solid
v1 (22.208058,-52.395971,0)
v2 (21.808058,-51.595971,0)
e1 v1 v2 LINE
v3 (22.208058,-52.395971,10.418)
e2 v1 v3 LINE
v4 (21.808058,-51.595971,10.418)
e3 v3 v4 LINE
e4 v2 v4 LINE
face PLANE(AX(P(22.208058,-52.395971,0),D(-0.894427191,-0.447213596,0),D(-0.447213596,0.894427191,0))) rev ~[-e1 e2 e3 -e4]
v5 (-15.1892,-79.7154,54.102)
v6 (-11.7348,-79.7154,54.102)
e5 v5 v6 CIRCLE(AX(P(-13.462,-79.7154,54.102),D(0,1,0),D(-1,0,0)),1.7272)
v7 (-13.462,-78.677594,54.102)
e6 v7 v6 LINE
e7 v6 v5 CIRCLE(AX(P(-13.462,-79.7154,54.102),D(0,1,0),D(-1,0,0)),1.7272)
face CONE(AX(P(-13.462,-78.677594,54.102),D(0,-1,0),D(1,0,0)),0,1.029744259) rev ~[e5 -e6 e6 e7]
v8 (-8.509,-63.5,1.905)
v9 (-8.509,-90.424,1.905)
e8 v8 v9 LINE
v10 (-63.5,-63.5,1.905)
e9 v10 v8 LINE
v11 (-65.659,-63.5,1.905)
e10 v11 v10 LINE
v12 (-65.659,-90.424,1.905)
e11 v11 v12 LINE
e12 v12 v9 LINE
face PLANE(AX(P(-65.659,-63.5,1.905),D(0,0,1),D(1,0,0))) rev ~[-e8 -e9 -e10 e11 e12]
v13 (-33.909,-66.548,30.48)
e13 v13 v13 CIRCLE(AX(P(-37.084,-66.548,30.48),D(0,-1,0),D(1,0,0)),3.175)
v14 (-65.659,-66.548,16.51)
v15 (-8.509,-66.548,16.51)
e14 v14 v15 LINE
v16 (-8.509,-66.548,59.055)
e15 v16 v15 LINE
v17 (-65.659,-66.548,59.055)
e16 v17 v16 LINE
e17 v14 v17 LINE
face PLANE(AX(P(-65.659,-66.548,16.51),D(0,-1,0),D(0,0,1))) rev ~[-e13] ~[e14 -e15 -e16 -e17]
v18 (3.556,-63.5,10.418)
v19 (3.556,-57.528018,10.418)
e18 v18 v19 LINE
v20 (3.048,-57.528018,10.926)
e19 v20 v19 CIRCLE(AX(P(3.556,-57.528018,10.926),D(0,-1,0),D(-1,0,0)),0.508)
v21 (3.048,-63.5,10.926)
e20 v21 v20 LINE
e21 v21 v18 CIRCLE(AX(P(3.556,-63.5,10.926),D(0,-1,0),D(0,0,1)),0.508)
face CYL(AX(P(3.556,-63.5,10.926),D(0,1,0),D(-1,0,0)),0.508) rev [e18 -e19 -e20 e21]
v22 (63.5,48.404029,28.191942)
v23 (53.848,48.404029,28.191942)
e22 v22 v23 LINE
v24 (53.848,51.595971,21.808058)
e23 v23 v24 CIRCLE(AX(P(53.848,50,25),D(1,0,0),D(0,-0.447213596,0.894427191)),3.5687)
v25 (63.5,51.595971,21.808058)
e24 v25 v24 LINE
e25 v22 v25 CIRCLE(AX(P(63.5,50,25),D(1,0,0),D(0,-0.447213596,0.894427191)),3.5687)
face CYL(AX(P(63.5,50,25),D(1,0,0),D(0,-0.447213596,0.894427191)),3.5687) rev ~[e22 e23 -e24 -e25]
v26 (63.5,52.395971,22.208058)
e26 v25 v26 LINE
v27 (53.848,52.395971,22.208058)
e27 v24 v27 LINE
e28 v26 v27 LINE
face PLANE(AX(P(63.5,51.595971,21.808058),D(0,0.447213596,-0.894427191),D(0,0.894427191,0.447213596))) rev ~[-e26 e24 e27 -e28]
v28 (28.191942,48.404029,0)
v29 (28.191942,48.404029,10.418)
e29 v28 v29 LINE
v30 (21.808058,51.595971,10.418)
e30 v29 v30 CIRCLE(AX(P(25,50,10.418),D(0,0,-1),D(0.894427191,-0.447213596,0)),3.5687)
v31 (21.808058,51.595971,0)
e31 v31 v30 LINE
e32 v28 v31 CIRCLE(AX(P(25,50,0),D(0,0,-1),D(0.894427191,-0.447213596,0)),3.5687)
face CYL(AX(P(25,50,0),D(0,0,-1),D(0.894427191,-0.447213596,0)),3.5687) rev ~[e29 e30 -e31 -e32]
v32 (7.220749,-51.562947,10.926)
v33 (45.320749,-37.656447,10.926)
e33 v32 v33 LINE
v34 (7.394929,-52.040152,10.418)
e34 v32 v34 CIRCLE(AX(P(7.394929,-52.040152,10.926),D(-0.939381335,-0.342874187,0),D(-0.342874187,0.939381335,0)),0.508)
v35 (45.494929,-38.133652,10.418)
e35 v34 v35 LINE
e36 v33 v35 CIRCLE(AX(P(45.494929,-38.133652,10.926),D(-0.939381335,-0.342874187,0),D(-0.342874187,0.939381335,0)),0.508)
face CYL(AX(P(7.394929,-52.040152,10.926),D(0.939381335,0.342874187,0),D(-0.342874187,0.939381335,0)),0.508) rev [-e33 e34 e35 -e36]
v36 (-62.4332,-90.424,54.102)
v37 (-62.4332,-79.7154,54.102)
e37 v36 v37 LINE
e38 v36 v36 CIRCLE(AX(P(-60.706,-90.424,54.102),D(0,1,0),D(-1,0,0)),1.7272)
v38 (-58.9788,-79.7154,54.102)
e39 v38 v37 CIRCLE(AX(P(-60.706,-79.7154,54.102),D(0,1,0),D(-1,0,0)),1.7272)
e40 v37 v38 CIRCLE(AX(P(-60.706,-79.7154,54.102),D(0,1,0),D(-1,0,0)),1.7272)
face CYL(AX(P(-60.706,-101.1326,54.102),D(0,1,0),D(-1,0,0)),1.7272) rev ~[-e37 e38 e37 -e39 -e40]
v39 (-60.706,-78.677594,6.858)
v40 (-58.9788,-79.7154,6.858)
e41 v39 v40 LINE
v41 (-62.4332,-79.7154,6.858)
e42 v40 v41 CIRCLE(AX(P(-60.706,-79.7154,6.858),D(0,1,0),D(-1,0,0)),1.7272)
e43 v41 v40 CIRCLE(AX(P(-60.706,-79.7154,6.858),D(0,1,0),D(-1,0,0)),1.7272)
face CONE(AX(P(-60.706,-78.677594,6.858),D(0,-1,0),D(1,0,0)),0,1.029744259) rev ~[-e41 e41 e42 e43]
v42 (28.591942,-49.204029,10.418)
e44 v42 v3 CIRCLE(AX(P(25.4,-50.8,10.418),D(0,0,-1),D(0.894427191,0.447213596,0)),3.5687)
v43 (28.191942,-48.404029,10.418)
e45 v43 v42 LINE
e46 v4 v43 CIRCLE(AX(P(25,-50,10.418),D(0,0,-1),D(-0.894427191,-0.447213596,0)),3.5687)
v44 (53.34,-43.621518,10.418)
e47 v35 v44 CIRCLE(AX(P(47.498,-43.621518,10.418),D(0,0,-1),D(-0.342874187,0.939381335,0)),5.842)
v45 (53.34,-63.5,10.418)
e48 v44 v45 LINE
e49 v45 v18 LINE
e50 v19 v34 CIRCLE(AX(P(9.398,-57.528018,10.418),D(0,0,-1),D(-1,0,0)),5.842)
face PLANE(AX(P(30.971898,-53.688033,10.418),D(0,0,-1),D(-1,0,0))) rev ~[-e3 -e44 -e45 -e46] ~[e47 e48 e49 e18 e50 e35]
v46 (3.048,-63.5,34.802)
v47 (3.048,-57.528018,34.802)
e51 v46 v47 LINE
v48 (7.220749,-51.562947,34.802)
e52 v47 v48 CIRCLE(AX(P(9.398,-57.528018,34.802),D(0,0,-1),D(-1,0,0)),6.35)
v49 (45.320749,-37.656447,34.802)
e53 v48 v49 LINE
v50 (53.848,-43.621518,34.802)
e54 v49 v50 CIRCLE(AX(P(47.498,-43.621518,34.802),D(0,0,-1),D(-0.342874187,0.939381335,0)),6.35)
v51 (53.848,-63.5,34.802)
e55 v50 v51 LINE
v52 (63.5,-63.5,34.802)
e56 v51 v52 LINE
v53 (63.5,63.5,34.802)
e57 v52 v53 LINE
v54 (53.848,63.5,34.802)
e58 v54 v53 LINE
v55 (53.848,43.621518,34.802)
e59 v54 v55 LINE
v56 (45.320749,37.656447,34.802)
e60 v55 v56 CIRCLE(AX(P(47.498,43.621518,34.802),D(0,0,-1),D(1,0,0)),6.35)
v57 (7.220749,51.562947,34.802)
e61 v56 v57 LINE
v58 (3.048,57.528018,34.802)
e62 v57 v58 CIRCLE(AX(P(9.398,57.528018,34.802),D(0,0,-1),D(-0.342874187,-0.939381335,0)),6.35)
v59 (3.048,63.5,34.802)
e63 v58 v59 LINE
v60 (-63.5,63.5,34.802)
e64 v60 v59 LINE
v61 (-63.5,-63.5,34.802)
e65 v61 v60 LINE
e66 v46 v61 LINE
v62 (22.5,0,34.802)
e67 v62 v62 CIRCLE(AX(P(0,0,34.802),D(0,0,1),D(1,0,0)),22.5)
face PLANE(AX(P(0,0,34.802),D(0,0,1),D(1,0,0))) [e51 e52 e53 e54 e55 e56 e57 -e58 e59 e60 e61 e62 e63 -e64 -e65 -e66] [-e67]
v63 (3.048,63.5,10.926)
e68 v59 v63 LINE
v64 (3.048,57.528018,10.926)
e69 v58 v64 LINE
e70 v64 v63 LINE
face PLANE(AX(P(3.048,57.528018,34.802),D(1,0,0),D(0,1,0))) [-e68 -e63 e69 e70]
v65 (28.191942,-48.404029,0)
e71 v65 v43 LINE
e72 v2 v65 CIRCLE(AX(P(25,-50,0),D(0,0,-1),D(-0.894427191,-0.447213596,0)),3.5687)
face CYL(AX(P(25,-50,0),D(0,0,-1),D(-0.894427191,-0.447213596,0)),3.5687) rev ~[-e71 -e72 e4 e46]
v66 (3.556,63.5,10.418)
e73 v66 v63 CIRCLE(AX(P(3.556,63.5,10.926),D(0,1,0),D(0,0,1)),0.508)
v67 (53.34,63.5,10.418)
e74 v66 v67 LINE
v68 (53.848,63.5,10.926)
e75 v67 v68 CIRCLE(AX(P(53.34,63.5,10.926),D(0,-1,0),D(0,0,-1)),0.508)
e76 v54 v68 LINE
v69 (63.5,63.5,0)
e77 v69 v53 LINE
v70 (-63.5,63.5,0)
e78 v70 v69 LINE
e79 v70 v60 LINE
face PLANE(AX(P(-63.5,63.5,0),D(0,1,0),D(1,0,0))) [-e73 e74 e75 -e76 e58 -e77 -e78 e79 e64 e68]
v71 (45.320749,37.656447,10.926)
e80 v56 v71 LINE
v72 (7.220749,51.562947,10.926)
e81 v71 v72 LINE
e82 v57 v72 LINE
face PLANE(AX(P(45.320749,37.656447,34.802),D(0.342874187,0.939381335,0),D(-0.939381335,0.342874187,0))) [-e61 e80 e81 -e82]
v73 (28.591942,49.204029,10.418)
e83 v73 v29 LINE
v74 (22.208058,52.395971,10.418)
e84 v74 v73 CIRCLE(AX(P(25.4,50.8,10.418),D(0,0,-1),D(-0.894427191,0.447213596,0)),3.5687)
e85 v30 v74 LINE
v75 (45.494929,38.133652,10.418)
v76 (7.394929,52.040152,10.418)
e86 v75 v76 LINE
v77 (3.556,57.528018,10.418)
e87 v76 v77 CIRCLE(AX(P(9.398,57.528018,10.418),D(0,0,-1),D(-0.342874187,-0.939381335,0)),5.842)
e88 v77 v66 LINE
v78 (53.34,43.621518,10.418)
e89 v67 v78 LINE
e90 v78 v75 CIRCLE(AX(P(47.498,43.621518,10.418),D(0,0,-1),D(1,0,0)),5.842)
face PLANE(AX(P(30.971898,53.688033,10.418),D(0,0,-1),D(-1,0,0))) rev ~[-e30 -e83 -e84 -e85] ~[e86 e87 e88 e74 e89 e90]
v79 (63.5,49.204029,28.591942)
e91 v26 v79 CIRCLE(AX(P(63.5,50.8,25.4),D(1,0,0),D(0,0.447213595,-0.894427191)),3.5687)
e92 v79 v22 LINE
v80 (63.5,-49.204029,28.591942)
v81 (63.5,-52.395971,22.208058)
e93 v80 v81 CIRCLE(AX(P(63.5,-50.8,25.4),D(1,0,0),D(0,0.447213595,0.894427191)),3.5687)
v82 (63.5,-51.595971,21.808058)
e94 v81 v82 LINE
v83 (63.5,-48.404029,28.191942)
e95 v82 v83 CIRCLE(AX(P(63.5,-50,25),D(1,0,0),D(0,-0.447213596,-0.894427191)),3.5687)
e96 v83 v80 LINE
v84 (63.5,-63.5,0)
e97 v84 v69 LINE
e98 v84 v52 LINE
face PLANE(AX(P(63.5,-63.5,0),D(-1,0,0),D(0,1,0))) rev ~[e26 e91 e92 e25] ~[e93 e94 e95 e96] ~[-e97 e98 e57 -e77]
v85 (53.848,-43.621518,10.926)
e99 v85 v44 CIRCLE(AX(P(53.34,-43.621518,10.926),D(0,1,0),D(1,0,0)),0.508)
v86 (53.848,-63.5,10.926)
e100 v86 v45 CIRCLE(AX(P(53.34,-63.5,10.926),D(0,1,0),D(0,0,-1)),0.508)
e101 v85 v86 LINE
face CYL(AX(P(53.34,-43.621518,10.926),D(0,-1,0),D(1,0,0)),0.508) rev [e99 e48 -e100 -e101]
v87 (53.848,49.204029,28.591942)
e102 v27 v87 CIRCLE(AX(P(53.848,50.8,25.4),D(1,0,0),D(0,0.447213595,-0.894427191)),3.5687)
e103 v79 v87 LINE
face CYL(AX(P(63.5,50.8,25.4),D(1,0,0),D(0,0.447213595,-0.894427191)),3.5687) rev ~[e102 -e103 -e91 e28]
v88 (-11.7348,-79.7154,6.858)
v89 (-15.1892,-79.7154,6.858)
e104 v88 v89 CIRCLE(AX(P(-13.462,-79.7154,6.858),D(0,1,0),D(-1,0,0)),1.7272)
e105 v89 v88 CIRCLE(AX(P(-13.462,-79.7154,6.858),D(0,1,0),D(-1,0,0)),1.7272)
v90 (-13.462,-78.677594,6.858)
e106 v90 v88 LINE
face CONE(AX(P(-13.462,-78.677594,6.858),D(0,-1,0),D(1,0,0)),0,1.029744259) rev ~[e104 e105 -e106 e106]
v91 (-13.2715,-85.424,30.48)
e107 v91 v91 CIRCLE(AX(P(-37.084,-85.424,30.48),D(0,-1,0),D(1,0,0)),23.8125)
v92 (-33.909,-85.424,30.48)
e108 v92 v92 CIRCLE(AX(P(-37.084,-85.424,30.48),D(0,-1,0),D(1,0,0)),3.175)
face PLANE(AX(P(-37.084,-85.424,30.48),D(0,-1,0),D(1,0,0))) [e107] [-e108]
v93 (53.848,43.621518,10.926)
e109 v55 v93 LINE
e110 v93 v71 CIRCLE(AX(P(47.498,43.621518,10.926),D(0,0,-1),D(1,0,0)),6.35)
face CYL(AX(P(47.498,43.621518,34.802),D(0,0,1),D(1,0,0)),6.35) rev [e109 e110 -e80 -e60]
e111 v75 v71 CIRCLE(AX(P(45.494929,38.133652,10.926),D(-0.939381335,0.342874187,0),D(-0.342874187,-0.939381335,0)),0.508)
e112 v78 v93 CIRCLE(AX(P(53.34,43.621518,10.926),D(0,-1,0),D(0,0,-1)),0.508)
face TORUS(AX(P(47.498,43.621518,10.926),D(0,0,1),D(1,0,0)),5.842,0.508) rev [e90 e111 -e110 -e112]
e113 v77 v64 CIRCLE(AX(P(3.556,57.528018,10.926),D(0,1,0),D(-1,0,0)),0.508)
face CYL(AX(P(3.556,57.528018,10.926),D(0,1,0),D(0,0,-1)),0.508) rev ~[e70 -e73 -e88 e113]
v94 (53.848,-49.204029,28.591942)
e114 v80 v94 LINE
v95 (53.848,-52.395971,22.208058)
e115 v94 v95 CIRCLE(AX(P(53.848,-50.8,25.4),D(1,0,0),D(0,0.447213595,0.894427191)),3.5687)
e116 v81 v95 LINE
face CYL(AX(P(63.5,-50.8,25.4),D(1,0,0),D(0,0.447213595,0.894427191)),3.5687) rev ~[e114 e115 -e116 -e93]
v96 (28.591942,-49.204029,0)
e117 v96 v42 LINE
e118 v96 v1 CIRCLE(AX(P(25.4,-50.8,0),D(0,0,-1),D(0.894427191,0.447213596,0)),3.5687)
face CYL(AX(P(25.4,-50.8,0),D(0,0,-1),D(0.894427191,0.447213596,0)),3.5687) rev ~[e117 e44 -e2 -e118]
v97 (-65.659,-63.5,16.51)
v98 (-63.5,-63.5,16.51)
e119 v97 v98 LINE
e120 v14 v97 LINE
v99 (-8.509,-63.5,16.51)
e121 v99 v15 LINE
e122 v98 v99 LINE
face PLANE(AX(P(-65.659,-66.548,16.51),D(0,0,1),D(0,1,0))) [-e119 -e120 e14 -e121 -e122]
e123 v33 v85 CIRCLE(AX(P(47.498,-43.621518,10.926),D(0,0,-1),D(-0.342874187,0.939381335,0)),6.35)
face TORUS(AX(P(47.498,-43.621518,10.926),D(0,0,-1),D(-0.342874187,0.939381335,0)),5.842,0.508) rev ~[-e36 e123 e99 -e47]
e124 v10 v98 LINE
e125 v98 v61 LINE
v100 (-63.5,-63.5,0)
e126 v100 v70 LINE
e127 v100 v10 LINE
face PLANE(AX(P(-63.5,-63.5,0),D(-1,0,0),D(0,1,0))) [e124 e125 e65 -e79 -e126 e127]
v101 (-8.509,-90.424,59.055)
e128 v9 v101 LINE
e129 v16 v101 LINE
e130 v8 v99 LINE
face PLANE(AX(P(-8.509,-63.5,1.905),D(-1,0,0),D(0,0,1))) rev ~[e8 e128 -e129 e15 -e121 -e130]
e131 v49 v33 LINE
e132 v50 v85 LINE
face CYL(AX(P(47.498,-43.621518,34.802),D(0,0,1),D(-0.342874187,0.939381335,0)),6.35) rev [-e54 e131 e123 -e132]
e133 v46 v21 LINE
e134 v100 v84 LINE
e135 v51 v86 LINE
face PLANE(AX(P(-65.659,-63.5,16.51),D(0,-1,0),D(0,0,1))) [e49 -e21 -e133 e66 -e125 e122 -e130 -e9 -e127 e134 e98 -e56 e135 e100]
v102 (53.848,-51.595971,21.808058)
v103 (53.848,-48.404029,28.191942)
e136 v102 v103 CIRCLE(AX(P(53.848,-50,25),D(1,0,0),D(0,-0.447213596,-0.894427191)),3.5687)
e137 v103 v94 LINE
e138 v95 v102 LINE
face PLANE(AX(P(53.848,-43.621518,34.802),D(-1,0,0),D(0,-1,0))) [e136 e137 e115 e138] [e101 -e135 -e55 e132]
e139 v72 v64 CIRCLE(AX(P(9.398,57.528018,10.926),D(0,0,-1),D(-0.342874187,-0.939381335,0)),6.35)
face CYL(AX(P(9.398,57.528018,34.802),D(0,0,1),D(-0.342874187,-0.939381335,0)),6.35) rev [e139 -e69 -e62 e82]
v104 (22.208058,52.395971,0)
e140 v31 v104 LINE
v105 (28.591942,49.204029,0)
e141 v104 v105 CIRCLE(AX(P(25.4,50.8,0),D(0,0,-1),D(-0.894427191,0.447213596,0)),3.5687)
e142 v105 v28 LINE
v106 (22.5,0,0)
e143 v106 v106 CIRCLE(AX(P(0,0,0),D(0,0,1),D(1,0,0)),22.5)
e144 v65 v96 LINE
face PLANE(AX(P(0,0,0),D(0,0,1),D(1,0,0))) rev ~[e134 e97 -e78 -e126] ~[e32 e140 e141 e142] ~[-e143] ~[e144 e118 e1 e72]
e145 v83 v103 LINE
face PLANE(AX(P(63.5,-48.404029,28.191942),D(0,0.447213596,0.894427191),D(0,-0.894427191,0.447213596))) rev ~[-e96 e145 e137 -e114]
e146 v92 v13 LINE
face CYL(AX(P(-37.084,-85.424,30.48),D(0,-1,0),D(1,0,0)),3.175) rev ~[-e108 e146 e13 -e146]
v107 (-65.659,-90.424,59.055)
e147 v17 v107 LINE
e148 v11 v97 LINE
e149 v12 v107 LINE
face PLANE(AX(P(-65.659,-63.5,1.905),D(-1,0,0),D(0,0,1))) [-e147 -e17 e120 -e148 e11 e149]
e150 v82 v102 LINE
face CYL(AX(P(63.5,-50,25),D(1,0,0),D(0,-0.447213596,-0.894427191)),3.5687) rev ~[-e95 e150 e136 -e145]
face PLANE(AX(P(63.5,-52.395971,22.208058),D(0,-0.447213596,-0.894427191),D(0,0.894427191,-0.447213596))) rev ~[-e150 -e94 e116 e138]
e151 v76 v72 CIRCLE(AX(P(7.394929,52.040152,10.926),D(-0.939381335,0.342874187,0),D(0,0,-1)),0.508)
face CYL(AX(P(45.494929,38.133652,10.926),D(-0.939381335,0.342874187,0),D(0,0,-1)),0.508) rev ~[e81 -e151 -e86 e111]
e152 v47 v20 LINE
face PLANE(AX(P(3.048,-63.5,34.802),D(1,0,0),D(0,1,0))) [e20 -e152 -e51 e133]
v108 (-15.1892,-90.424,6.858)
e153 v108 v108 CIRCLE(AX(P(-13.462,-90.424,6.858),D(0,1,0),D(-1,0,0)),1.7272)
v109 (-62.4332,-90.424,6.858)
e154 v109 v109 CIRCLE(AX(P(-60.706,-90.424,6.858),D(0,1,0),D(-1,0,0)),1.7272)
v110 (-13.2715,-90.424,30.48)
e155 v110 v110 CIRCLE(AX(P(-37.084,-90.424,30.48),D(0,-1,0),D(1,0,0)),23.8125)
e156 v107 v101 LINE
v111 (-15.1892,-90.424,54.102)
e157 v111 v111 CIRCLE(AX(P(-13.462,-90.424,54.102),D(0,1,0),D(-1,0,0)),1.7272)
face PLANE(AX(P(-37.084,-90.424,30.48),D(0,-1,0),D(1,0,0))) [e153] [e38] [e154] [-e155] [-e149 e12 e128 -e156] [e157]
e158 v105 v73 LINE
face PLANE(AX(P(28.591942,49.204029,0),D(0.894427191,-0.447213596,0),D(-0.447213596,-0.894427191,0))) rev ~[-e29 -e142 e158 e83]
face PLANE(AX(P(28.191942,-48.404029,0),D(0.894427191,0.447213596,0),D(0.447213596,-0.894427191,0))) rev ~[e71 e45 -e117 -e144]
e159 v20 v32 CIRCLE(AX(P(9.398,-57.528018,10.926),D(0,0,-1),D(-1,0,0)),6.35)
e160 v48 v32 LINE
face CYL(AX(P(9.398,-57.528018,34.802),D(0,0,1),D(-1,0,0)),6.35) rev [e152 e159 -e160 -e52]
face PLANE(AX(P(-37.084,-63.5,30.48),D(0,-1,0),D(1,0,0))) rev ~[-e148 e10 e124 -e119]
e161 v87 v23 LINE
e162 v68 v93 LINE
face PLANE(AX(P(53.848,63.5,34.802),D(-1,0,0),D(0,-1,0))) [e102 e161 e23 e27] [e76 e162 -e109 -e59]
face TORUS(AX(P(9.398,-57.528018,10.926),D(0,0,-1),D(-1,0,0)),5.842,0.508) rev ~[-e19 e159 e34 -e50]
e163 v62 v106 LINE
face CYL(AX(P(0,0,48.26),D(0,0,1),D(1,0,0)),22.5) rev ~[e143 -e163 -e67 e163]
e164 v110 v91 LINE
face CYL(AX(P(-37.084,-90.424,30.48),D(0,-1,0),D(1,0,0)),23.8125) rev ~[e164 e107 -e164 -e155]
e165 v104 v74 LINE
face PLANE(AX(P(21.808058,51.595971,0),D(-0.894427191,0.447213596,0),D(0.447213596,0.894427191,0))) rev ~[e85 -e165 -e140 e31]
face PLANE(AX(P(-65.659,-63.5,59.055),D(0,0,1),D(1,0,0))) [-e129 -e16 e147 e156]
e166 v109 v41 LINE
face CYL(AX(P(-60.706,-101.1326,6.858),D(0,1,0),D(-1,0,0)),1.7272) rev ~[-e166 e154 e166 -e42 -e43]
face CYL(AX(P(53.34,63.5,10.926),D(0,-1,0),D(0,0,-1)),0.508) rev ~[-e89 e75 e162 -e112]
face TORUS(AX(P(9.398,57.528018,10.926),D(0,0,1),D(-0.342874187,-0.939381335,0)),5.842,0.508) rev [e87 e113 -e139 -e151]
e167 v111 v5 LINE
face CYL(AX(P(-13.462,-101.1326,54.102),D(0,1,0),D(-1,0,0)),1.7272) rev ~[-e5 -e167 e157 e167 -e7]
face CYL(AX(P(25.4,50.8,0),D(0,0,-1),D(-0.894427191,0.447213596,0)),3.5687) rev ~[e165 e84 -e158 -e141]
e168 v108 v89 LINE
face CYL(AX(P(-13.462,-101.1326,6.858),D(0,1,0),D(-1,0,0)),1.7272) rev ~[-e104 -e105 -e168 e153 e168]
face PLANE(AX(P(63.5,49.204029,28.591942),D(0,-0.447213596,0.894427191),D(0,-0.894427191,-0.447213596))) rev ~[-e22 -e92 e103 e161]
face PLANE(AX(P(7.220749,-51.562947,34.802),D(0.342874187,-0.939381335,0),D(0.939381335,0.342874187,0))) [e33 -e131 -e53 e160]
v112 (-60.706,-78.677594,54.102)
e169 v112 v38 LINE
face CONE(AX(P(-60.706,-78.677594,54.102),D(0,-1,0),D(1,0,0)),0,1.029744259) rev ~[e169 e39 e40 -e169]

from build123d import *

# Parameters (mm, degrees)
SKETCH2_W                        = 127
SKETCH2_H                        = 127
HOUSING_DEPTH                    = 39.5
SKETCH4_OUTSIDE_W                = 165.78
SKETCH4_OUTSIDE_H                = 165.78
SKETCH4_OUTSIDE_R                = 45.974
CUT_EXTRUDE2_DEPTH               = 4.698
MOUNTING_POCKETS_DEPTH           = 24.384
ENG_METRIC_SLOT_VERTICAL_REACH   = 129
ENG_METRIC_SLOT_HORIZONTAL_DEPTH = 40.5
FILLET3_R                        = 0.508
SKETCH213_W                      = 57.15
SKETCH213_H                      = 57.15
EXTRUDE1_DEPTH                   = 26.924
SKETCH214_R                      = 23.8125
CUT_EXTRUDE3_DEPTH               = 5
SKETCH215_R                      = 3.175
CUT_EXTRUDE4_DEPTH               = 21.924
CUT_EXTRUDE5_REACH               = 131.159
SKETCH216_W                      = 42.545
SKETCH216_H                      = 3.048
F_8_32_TAPPED_HOLE1_D            = 3.4544
F_8_32_TAPPED_HOLE1_DEPTH        = 10.7086
F_8_32_TAPPED_HOLE1_TIP          = 1.037806461
SKETCH241_R                      = 45.974
CUT_EXTRUDE7_DEPTH               = 4.698
SKETCH3_R                        = 22.5
CUT_EXTRUDE8_DEPTH               = 49.26


with BuildPart() as part:
    # Sketch2 → HOUSING (new body)
    with BuildSketch(Plane.XY):
        Rectangle(SKETCH2_W, SKETCH2_H)
    extrude(amount=HOUSING_DEPTH)

    # Sketch4 outside → Cut-Extrude2 (cut)
    with BuildSketch(Plane.XY.offset(39.5)):
        Rectangle(SKETCH4_OUTSIDE_W, SKETCH4_OUTSIDE_H)
        Circle(SKETCH4_OUTSIDE_R, mode=Mode.SUBTRACT)
    extrude(amount=-CUT_EXTRUDE2_DEPTH, mode=Mode.SUBTRACT)

    # Sketch8 → MOUNTING POCKETS (cut)
    with BuildSketch(Plane.XY.offset(34.802)):
        with BuildLine():
            Line((3.048, -63.5), (3.048, -57.528018122))
            ThreePointArc((3.048, -57.528018122), (4.194729662, -53.888172274), (7.220748912, -51.562946647))
            Line((7.220748912, -51.562946647), (45.320748912, -37.656446647))
            ThreePointArc((45.320748912, -37.656446647), (51.137845848, -38.418247784), (53.848, -43.621518122))
            Line((53.848, -43.621518122), (53.848, -63.5))
            Line((53.848, -63.5), (3.048, -63.5))
        make_face()
        with BuildLine():
            Line((3.048, 63.5), (53.848, 63.5))
            Line((53.848, 63.5), (53.848, 43.621518122))
            ThreePointArc((53.848, 43.621518122), (51.137845848, 38.418247784), (45.320748912, 37.656446647))
            Line((45.320748912, 37.656446647), (7.220748912, 51.562946647))
            ThreePointArc((7.220748912, 51.562946647), (4.194729662, 53.888172274), (3.048, 57.528018122))
            Line((3.048, 57.528018122), (3.048, 63.5))
        make_face()
    extrude(amount=-MOUNTING_POCKETS_DEPTH, mode=Mode.SUBTRACT)

    # Sketch21 → ENG_METRIC SLOT VERTICAL (cut, up to next)
    with BuildSketch(Plane(origin=(63.5, -23.646142673, 1.166551585), x_dir=(0, 0, -1), z_dir=(1, 0, 0)), mode=Mode.PRIVATE) as eng_metric_slot_vertical_sk1:
        with BuildLine():
            Line((-20.641506099, 75.242113831), (-21.041506099, 76.042113831))
            ThreePointArc((-21.041506099, 76.042113831), (-25.829419573, 77.63808499), (-27.425390732, 72.850171515))
            Line((-27.425390732, 72.850171515), (-27.025390732, 72.050171515))
            ThreePointArc((-27.025390732, 72.050171515), (-22.237477257, 70.454200357), (-20.641506099, 75.242113831))
        make_face()
    eng_metric_slot_vertical_tool1 = extrude(eng_metric_slot_vertical_sk1.sketch, amount=-ENG_METRIC_SLOT_VERTICAL_REACH, mode=Mode.PRIVATE) & part.part
    add(eng_metric_slot_vertical_tool1.solids().sort_by_distance((63.5, 50.4, 25.2))[0], mode=Mode.SUBTRACT)
    # Sketch21 → ENG_METRIC SLOT VERTICAL (cut, up to next)
    with BuildSketch(Plane(origin=(63.5, -23.646142673, 1.166551585), x_dir=(0, 0, -1), z_dir=(1, 0, 0)), mode=Mode.PRIVATE) as eng_metric_slot_vertical_sk2:
        with BuildLine():
            Line((-27.025390732, -24.757886169), (-27.425390732, -25.557886169))
            ThreePointArc((-27.425390732, -25.557886169), (-25.829419573, -30.345799643), (-21.041506099, -28.749828485))
            Line((-21.041506099, -28.749828485), (-20.641506099, -27.949828485))
            ThreePointArc((-20.641506099, -27.949828485), (-22.237477257, -23.16191501), (-27.025390732, -24.757886169))
        make_face()
    eng_metric_slot_vertical_tool2 = extrude(eng_metric_slot_vertical_sk2.sketch, amount=-ENG_METRIC_SLOT_VERTICAL_REACH, mode=Mode.PRIVATE) & part.part
    add(eng_metric_slot_vertical_tool2.solids().sort_by_distance((63.5, -50.4, 25.2))[0], mode=Mode.SUBTRACT)

    # Sketch212 → ENG_METRIC SLOT HORIZONTAL (cut, through all)
    with BuildSketch(Plane(origin=(34.062086582, -104.655987826, 0), x_dir=(-1, 0, 0), z_dir=(0, 0, -1))):
        with BuildLine():
            Line((12.254028899, 156.251958985), (11.854028899, 157.051958985))
            ThreePointArc((11.854028899, 157.051958985), (7.066115424, 158.647930143), (5.470144266, 153.860016668))
            Line((5.470144266, 153.860016668), (5.870144266, 153.060016668))
            ThreePointArc((5.870144266, 153.060016668), (10.658057741, 151.46404551), (12.254028899, 156.251958985))
        make_face()
        with BuildLine():
            Line((5.870144266, 56.251958985), (5.470144266, 55.451958985))
            ThreePointArc((5.470144266, 55.451958985), (7.066115424, 50.66404551), (11.854028899, 52.260016668))
            Line((11.854028899, 52.260016668), (12.254028899, 53.060016668))
            ThreePointArc((12.254028899, 53.060016668), (10.658057741, 57.847930143), (5.870144266, 56.251958985))
        make_face()
    extrude(amount=-ENG_METRIC_SLOT_HORIZONTAL_DEPTH, mode=Mode.SUBTRACT)

    # Fillet3
    fillet3_edges = [part.edges().sort_by_distance(p)[0] for p in [
        (3.048, -60.514009061, 10.418),
        (4.194729662, -53.888172274, 10.418),
        (26.270748912, -44.609696647, 10.418),
        (51.137845848, -38.418247784, 10.418),
        (53.848, -53.560759061, 10.418),
        (51.137845848, 38.418247784, 10.418),
        (26.270748912, 44.609696647, 10.418),
        (4.194729662, 53.888172274, 10.418),
        (3.048, 60.514009061, 10.418),
        (53.848, 53.560759061, 10.418),
    ]]
    fillet(fillet3_edges, radius=FILLET3_R)

    # Sketch213 → Extrude1 (add)
    with BuildSketch(Plane.XZ.offset(63.5)):
        with Locations((-37.084, 30.48)):
            Rectangle(SKETCH213_W, SKETCH213_H)
    extrude(amount=EXTRUDE1_DEPTH)

    # Sketch214 → Cut-Extrude3 (cut)
    with BuildSketch(Plane.XZ.offset(90.424)):
        with Locations((-37.084, 30.48)):
            Circle(SKETCH214_R)
    extrude(amount=-CUT_EXTRUDE3_DEPTH, mode=Mode.SUBTRACT)

    # Sketch215 → Cut-Extrude4 (cut)
    with BuildSketch(Plane.XZ.offset(85.424)):
        with Locations((-37.084, 30.48)):
            Circle(SKETCH215_R)
    extrude(amount=-CUT_EXTRUDE4_DEPTH, mode=Mode.SUBTRACT)

    # Sketch216 → Cut-Extrude5 (cut, up to next)
    with BuildSketch(Plane.ZY.offset(65.659), mode=Mode.PRIVATE) as cut_extrude5_sk1:
        with Locations((37.7825, -65.024)):
            Rectangle(SKETCH216_W, SKETCH216_H)
    cut_extrude5_tool1 = extrude(cut_extrude5_sk1.sketch, amount=-CUT_EXTRUDE5_REACH, mode=Mode.PRIVATE) & part.part
    add(cut_extrude5_tool1.solids().sort_by_distance((-65.659, -65.024, 37.7825))[0], mode=Mode.SUBTRACT)

    # #8-32 Tapped Hole1
    with Locations(Plane.XZ.offset(90.424)):
        with Locations((-60.706, 6.858), (-60.706, 54.102), (-13.462, 54.102), (-13.462, 6.858)):
            Hole(F_8_32_TAPPED_HOLE1_D / 2, depth=F_8_32_TAPPED_HOLE1_DEPTH)
            with Locations((0, 0, -(F_8_32_TAPPED_HOLE1_DEPTH + F_8_32_TAPPED_HOLE1_TIP / 2))):  # 118° drill point
                Cone(0, F_8_32_TAPPED_HOLE1_D / 2, F_8_32_TAPPED_HOLE1_TIP, mode=Mode.SUBTRACT)

    # Sketch241 → Cut-Extrude7 (cut)
    with BuildSketch(Plane.XY.offset(39.5)):
        Circle(SKETCH241_R)
    extrude(amount=-CUT_EXTRUDE7_DEPTH, mode=Mode.SUBTRACT)

    # Sketch3 → Cut-Extrude8 (cut, through all)
    with BuildSketch(Plane.XY.offset(48.26)):
        Circle(SKETCH3_R)
    extrude(amount=-CUT_EXTRUDE8_DEPTH, mode=Mode.SUBTRACT)


solid = part.part
